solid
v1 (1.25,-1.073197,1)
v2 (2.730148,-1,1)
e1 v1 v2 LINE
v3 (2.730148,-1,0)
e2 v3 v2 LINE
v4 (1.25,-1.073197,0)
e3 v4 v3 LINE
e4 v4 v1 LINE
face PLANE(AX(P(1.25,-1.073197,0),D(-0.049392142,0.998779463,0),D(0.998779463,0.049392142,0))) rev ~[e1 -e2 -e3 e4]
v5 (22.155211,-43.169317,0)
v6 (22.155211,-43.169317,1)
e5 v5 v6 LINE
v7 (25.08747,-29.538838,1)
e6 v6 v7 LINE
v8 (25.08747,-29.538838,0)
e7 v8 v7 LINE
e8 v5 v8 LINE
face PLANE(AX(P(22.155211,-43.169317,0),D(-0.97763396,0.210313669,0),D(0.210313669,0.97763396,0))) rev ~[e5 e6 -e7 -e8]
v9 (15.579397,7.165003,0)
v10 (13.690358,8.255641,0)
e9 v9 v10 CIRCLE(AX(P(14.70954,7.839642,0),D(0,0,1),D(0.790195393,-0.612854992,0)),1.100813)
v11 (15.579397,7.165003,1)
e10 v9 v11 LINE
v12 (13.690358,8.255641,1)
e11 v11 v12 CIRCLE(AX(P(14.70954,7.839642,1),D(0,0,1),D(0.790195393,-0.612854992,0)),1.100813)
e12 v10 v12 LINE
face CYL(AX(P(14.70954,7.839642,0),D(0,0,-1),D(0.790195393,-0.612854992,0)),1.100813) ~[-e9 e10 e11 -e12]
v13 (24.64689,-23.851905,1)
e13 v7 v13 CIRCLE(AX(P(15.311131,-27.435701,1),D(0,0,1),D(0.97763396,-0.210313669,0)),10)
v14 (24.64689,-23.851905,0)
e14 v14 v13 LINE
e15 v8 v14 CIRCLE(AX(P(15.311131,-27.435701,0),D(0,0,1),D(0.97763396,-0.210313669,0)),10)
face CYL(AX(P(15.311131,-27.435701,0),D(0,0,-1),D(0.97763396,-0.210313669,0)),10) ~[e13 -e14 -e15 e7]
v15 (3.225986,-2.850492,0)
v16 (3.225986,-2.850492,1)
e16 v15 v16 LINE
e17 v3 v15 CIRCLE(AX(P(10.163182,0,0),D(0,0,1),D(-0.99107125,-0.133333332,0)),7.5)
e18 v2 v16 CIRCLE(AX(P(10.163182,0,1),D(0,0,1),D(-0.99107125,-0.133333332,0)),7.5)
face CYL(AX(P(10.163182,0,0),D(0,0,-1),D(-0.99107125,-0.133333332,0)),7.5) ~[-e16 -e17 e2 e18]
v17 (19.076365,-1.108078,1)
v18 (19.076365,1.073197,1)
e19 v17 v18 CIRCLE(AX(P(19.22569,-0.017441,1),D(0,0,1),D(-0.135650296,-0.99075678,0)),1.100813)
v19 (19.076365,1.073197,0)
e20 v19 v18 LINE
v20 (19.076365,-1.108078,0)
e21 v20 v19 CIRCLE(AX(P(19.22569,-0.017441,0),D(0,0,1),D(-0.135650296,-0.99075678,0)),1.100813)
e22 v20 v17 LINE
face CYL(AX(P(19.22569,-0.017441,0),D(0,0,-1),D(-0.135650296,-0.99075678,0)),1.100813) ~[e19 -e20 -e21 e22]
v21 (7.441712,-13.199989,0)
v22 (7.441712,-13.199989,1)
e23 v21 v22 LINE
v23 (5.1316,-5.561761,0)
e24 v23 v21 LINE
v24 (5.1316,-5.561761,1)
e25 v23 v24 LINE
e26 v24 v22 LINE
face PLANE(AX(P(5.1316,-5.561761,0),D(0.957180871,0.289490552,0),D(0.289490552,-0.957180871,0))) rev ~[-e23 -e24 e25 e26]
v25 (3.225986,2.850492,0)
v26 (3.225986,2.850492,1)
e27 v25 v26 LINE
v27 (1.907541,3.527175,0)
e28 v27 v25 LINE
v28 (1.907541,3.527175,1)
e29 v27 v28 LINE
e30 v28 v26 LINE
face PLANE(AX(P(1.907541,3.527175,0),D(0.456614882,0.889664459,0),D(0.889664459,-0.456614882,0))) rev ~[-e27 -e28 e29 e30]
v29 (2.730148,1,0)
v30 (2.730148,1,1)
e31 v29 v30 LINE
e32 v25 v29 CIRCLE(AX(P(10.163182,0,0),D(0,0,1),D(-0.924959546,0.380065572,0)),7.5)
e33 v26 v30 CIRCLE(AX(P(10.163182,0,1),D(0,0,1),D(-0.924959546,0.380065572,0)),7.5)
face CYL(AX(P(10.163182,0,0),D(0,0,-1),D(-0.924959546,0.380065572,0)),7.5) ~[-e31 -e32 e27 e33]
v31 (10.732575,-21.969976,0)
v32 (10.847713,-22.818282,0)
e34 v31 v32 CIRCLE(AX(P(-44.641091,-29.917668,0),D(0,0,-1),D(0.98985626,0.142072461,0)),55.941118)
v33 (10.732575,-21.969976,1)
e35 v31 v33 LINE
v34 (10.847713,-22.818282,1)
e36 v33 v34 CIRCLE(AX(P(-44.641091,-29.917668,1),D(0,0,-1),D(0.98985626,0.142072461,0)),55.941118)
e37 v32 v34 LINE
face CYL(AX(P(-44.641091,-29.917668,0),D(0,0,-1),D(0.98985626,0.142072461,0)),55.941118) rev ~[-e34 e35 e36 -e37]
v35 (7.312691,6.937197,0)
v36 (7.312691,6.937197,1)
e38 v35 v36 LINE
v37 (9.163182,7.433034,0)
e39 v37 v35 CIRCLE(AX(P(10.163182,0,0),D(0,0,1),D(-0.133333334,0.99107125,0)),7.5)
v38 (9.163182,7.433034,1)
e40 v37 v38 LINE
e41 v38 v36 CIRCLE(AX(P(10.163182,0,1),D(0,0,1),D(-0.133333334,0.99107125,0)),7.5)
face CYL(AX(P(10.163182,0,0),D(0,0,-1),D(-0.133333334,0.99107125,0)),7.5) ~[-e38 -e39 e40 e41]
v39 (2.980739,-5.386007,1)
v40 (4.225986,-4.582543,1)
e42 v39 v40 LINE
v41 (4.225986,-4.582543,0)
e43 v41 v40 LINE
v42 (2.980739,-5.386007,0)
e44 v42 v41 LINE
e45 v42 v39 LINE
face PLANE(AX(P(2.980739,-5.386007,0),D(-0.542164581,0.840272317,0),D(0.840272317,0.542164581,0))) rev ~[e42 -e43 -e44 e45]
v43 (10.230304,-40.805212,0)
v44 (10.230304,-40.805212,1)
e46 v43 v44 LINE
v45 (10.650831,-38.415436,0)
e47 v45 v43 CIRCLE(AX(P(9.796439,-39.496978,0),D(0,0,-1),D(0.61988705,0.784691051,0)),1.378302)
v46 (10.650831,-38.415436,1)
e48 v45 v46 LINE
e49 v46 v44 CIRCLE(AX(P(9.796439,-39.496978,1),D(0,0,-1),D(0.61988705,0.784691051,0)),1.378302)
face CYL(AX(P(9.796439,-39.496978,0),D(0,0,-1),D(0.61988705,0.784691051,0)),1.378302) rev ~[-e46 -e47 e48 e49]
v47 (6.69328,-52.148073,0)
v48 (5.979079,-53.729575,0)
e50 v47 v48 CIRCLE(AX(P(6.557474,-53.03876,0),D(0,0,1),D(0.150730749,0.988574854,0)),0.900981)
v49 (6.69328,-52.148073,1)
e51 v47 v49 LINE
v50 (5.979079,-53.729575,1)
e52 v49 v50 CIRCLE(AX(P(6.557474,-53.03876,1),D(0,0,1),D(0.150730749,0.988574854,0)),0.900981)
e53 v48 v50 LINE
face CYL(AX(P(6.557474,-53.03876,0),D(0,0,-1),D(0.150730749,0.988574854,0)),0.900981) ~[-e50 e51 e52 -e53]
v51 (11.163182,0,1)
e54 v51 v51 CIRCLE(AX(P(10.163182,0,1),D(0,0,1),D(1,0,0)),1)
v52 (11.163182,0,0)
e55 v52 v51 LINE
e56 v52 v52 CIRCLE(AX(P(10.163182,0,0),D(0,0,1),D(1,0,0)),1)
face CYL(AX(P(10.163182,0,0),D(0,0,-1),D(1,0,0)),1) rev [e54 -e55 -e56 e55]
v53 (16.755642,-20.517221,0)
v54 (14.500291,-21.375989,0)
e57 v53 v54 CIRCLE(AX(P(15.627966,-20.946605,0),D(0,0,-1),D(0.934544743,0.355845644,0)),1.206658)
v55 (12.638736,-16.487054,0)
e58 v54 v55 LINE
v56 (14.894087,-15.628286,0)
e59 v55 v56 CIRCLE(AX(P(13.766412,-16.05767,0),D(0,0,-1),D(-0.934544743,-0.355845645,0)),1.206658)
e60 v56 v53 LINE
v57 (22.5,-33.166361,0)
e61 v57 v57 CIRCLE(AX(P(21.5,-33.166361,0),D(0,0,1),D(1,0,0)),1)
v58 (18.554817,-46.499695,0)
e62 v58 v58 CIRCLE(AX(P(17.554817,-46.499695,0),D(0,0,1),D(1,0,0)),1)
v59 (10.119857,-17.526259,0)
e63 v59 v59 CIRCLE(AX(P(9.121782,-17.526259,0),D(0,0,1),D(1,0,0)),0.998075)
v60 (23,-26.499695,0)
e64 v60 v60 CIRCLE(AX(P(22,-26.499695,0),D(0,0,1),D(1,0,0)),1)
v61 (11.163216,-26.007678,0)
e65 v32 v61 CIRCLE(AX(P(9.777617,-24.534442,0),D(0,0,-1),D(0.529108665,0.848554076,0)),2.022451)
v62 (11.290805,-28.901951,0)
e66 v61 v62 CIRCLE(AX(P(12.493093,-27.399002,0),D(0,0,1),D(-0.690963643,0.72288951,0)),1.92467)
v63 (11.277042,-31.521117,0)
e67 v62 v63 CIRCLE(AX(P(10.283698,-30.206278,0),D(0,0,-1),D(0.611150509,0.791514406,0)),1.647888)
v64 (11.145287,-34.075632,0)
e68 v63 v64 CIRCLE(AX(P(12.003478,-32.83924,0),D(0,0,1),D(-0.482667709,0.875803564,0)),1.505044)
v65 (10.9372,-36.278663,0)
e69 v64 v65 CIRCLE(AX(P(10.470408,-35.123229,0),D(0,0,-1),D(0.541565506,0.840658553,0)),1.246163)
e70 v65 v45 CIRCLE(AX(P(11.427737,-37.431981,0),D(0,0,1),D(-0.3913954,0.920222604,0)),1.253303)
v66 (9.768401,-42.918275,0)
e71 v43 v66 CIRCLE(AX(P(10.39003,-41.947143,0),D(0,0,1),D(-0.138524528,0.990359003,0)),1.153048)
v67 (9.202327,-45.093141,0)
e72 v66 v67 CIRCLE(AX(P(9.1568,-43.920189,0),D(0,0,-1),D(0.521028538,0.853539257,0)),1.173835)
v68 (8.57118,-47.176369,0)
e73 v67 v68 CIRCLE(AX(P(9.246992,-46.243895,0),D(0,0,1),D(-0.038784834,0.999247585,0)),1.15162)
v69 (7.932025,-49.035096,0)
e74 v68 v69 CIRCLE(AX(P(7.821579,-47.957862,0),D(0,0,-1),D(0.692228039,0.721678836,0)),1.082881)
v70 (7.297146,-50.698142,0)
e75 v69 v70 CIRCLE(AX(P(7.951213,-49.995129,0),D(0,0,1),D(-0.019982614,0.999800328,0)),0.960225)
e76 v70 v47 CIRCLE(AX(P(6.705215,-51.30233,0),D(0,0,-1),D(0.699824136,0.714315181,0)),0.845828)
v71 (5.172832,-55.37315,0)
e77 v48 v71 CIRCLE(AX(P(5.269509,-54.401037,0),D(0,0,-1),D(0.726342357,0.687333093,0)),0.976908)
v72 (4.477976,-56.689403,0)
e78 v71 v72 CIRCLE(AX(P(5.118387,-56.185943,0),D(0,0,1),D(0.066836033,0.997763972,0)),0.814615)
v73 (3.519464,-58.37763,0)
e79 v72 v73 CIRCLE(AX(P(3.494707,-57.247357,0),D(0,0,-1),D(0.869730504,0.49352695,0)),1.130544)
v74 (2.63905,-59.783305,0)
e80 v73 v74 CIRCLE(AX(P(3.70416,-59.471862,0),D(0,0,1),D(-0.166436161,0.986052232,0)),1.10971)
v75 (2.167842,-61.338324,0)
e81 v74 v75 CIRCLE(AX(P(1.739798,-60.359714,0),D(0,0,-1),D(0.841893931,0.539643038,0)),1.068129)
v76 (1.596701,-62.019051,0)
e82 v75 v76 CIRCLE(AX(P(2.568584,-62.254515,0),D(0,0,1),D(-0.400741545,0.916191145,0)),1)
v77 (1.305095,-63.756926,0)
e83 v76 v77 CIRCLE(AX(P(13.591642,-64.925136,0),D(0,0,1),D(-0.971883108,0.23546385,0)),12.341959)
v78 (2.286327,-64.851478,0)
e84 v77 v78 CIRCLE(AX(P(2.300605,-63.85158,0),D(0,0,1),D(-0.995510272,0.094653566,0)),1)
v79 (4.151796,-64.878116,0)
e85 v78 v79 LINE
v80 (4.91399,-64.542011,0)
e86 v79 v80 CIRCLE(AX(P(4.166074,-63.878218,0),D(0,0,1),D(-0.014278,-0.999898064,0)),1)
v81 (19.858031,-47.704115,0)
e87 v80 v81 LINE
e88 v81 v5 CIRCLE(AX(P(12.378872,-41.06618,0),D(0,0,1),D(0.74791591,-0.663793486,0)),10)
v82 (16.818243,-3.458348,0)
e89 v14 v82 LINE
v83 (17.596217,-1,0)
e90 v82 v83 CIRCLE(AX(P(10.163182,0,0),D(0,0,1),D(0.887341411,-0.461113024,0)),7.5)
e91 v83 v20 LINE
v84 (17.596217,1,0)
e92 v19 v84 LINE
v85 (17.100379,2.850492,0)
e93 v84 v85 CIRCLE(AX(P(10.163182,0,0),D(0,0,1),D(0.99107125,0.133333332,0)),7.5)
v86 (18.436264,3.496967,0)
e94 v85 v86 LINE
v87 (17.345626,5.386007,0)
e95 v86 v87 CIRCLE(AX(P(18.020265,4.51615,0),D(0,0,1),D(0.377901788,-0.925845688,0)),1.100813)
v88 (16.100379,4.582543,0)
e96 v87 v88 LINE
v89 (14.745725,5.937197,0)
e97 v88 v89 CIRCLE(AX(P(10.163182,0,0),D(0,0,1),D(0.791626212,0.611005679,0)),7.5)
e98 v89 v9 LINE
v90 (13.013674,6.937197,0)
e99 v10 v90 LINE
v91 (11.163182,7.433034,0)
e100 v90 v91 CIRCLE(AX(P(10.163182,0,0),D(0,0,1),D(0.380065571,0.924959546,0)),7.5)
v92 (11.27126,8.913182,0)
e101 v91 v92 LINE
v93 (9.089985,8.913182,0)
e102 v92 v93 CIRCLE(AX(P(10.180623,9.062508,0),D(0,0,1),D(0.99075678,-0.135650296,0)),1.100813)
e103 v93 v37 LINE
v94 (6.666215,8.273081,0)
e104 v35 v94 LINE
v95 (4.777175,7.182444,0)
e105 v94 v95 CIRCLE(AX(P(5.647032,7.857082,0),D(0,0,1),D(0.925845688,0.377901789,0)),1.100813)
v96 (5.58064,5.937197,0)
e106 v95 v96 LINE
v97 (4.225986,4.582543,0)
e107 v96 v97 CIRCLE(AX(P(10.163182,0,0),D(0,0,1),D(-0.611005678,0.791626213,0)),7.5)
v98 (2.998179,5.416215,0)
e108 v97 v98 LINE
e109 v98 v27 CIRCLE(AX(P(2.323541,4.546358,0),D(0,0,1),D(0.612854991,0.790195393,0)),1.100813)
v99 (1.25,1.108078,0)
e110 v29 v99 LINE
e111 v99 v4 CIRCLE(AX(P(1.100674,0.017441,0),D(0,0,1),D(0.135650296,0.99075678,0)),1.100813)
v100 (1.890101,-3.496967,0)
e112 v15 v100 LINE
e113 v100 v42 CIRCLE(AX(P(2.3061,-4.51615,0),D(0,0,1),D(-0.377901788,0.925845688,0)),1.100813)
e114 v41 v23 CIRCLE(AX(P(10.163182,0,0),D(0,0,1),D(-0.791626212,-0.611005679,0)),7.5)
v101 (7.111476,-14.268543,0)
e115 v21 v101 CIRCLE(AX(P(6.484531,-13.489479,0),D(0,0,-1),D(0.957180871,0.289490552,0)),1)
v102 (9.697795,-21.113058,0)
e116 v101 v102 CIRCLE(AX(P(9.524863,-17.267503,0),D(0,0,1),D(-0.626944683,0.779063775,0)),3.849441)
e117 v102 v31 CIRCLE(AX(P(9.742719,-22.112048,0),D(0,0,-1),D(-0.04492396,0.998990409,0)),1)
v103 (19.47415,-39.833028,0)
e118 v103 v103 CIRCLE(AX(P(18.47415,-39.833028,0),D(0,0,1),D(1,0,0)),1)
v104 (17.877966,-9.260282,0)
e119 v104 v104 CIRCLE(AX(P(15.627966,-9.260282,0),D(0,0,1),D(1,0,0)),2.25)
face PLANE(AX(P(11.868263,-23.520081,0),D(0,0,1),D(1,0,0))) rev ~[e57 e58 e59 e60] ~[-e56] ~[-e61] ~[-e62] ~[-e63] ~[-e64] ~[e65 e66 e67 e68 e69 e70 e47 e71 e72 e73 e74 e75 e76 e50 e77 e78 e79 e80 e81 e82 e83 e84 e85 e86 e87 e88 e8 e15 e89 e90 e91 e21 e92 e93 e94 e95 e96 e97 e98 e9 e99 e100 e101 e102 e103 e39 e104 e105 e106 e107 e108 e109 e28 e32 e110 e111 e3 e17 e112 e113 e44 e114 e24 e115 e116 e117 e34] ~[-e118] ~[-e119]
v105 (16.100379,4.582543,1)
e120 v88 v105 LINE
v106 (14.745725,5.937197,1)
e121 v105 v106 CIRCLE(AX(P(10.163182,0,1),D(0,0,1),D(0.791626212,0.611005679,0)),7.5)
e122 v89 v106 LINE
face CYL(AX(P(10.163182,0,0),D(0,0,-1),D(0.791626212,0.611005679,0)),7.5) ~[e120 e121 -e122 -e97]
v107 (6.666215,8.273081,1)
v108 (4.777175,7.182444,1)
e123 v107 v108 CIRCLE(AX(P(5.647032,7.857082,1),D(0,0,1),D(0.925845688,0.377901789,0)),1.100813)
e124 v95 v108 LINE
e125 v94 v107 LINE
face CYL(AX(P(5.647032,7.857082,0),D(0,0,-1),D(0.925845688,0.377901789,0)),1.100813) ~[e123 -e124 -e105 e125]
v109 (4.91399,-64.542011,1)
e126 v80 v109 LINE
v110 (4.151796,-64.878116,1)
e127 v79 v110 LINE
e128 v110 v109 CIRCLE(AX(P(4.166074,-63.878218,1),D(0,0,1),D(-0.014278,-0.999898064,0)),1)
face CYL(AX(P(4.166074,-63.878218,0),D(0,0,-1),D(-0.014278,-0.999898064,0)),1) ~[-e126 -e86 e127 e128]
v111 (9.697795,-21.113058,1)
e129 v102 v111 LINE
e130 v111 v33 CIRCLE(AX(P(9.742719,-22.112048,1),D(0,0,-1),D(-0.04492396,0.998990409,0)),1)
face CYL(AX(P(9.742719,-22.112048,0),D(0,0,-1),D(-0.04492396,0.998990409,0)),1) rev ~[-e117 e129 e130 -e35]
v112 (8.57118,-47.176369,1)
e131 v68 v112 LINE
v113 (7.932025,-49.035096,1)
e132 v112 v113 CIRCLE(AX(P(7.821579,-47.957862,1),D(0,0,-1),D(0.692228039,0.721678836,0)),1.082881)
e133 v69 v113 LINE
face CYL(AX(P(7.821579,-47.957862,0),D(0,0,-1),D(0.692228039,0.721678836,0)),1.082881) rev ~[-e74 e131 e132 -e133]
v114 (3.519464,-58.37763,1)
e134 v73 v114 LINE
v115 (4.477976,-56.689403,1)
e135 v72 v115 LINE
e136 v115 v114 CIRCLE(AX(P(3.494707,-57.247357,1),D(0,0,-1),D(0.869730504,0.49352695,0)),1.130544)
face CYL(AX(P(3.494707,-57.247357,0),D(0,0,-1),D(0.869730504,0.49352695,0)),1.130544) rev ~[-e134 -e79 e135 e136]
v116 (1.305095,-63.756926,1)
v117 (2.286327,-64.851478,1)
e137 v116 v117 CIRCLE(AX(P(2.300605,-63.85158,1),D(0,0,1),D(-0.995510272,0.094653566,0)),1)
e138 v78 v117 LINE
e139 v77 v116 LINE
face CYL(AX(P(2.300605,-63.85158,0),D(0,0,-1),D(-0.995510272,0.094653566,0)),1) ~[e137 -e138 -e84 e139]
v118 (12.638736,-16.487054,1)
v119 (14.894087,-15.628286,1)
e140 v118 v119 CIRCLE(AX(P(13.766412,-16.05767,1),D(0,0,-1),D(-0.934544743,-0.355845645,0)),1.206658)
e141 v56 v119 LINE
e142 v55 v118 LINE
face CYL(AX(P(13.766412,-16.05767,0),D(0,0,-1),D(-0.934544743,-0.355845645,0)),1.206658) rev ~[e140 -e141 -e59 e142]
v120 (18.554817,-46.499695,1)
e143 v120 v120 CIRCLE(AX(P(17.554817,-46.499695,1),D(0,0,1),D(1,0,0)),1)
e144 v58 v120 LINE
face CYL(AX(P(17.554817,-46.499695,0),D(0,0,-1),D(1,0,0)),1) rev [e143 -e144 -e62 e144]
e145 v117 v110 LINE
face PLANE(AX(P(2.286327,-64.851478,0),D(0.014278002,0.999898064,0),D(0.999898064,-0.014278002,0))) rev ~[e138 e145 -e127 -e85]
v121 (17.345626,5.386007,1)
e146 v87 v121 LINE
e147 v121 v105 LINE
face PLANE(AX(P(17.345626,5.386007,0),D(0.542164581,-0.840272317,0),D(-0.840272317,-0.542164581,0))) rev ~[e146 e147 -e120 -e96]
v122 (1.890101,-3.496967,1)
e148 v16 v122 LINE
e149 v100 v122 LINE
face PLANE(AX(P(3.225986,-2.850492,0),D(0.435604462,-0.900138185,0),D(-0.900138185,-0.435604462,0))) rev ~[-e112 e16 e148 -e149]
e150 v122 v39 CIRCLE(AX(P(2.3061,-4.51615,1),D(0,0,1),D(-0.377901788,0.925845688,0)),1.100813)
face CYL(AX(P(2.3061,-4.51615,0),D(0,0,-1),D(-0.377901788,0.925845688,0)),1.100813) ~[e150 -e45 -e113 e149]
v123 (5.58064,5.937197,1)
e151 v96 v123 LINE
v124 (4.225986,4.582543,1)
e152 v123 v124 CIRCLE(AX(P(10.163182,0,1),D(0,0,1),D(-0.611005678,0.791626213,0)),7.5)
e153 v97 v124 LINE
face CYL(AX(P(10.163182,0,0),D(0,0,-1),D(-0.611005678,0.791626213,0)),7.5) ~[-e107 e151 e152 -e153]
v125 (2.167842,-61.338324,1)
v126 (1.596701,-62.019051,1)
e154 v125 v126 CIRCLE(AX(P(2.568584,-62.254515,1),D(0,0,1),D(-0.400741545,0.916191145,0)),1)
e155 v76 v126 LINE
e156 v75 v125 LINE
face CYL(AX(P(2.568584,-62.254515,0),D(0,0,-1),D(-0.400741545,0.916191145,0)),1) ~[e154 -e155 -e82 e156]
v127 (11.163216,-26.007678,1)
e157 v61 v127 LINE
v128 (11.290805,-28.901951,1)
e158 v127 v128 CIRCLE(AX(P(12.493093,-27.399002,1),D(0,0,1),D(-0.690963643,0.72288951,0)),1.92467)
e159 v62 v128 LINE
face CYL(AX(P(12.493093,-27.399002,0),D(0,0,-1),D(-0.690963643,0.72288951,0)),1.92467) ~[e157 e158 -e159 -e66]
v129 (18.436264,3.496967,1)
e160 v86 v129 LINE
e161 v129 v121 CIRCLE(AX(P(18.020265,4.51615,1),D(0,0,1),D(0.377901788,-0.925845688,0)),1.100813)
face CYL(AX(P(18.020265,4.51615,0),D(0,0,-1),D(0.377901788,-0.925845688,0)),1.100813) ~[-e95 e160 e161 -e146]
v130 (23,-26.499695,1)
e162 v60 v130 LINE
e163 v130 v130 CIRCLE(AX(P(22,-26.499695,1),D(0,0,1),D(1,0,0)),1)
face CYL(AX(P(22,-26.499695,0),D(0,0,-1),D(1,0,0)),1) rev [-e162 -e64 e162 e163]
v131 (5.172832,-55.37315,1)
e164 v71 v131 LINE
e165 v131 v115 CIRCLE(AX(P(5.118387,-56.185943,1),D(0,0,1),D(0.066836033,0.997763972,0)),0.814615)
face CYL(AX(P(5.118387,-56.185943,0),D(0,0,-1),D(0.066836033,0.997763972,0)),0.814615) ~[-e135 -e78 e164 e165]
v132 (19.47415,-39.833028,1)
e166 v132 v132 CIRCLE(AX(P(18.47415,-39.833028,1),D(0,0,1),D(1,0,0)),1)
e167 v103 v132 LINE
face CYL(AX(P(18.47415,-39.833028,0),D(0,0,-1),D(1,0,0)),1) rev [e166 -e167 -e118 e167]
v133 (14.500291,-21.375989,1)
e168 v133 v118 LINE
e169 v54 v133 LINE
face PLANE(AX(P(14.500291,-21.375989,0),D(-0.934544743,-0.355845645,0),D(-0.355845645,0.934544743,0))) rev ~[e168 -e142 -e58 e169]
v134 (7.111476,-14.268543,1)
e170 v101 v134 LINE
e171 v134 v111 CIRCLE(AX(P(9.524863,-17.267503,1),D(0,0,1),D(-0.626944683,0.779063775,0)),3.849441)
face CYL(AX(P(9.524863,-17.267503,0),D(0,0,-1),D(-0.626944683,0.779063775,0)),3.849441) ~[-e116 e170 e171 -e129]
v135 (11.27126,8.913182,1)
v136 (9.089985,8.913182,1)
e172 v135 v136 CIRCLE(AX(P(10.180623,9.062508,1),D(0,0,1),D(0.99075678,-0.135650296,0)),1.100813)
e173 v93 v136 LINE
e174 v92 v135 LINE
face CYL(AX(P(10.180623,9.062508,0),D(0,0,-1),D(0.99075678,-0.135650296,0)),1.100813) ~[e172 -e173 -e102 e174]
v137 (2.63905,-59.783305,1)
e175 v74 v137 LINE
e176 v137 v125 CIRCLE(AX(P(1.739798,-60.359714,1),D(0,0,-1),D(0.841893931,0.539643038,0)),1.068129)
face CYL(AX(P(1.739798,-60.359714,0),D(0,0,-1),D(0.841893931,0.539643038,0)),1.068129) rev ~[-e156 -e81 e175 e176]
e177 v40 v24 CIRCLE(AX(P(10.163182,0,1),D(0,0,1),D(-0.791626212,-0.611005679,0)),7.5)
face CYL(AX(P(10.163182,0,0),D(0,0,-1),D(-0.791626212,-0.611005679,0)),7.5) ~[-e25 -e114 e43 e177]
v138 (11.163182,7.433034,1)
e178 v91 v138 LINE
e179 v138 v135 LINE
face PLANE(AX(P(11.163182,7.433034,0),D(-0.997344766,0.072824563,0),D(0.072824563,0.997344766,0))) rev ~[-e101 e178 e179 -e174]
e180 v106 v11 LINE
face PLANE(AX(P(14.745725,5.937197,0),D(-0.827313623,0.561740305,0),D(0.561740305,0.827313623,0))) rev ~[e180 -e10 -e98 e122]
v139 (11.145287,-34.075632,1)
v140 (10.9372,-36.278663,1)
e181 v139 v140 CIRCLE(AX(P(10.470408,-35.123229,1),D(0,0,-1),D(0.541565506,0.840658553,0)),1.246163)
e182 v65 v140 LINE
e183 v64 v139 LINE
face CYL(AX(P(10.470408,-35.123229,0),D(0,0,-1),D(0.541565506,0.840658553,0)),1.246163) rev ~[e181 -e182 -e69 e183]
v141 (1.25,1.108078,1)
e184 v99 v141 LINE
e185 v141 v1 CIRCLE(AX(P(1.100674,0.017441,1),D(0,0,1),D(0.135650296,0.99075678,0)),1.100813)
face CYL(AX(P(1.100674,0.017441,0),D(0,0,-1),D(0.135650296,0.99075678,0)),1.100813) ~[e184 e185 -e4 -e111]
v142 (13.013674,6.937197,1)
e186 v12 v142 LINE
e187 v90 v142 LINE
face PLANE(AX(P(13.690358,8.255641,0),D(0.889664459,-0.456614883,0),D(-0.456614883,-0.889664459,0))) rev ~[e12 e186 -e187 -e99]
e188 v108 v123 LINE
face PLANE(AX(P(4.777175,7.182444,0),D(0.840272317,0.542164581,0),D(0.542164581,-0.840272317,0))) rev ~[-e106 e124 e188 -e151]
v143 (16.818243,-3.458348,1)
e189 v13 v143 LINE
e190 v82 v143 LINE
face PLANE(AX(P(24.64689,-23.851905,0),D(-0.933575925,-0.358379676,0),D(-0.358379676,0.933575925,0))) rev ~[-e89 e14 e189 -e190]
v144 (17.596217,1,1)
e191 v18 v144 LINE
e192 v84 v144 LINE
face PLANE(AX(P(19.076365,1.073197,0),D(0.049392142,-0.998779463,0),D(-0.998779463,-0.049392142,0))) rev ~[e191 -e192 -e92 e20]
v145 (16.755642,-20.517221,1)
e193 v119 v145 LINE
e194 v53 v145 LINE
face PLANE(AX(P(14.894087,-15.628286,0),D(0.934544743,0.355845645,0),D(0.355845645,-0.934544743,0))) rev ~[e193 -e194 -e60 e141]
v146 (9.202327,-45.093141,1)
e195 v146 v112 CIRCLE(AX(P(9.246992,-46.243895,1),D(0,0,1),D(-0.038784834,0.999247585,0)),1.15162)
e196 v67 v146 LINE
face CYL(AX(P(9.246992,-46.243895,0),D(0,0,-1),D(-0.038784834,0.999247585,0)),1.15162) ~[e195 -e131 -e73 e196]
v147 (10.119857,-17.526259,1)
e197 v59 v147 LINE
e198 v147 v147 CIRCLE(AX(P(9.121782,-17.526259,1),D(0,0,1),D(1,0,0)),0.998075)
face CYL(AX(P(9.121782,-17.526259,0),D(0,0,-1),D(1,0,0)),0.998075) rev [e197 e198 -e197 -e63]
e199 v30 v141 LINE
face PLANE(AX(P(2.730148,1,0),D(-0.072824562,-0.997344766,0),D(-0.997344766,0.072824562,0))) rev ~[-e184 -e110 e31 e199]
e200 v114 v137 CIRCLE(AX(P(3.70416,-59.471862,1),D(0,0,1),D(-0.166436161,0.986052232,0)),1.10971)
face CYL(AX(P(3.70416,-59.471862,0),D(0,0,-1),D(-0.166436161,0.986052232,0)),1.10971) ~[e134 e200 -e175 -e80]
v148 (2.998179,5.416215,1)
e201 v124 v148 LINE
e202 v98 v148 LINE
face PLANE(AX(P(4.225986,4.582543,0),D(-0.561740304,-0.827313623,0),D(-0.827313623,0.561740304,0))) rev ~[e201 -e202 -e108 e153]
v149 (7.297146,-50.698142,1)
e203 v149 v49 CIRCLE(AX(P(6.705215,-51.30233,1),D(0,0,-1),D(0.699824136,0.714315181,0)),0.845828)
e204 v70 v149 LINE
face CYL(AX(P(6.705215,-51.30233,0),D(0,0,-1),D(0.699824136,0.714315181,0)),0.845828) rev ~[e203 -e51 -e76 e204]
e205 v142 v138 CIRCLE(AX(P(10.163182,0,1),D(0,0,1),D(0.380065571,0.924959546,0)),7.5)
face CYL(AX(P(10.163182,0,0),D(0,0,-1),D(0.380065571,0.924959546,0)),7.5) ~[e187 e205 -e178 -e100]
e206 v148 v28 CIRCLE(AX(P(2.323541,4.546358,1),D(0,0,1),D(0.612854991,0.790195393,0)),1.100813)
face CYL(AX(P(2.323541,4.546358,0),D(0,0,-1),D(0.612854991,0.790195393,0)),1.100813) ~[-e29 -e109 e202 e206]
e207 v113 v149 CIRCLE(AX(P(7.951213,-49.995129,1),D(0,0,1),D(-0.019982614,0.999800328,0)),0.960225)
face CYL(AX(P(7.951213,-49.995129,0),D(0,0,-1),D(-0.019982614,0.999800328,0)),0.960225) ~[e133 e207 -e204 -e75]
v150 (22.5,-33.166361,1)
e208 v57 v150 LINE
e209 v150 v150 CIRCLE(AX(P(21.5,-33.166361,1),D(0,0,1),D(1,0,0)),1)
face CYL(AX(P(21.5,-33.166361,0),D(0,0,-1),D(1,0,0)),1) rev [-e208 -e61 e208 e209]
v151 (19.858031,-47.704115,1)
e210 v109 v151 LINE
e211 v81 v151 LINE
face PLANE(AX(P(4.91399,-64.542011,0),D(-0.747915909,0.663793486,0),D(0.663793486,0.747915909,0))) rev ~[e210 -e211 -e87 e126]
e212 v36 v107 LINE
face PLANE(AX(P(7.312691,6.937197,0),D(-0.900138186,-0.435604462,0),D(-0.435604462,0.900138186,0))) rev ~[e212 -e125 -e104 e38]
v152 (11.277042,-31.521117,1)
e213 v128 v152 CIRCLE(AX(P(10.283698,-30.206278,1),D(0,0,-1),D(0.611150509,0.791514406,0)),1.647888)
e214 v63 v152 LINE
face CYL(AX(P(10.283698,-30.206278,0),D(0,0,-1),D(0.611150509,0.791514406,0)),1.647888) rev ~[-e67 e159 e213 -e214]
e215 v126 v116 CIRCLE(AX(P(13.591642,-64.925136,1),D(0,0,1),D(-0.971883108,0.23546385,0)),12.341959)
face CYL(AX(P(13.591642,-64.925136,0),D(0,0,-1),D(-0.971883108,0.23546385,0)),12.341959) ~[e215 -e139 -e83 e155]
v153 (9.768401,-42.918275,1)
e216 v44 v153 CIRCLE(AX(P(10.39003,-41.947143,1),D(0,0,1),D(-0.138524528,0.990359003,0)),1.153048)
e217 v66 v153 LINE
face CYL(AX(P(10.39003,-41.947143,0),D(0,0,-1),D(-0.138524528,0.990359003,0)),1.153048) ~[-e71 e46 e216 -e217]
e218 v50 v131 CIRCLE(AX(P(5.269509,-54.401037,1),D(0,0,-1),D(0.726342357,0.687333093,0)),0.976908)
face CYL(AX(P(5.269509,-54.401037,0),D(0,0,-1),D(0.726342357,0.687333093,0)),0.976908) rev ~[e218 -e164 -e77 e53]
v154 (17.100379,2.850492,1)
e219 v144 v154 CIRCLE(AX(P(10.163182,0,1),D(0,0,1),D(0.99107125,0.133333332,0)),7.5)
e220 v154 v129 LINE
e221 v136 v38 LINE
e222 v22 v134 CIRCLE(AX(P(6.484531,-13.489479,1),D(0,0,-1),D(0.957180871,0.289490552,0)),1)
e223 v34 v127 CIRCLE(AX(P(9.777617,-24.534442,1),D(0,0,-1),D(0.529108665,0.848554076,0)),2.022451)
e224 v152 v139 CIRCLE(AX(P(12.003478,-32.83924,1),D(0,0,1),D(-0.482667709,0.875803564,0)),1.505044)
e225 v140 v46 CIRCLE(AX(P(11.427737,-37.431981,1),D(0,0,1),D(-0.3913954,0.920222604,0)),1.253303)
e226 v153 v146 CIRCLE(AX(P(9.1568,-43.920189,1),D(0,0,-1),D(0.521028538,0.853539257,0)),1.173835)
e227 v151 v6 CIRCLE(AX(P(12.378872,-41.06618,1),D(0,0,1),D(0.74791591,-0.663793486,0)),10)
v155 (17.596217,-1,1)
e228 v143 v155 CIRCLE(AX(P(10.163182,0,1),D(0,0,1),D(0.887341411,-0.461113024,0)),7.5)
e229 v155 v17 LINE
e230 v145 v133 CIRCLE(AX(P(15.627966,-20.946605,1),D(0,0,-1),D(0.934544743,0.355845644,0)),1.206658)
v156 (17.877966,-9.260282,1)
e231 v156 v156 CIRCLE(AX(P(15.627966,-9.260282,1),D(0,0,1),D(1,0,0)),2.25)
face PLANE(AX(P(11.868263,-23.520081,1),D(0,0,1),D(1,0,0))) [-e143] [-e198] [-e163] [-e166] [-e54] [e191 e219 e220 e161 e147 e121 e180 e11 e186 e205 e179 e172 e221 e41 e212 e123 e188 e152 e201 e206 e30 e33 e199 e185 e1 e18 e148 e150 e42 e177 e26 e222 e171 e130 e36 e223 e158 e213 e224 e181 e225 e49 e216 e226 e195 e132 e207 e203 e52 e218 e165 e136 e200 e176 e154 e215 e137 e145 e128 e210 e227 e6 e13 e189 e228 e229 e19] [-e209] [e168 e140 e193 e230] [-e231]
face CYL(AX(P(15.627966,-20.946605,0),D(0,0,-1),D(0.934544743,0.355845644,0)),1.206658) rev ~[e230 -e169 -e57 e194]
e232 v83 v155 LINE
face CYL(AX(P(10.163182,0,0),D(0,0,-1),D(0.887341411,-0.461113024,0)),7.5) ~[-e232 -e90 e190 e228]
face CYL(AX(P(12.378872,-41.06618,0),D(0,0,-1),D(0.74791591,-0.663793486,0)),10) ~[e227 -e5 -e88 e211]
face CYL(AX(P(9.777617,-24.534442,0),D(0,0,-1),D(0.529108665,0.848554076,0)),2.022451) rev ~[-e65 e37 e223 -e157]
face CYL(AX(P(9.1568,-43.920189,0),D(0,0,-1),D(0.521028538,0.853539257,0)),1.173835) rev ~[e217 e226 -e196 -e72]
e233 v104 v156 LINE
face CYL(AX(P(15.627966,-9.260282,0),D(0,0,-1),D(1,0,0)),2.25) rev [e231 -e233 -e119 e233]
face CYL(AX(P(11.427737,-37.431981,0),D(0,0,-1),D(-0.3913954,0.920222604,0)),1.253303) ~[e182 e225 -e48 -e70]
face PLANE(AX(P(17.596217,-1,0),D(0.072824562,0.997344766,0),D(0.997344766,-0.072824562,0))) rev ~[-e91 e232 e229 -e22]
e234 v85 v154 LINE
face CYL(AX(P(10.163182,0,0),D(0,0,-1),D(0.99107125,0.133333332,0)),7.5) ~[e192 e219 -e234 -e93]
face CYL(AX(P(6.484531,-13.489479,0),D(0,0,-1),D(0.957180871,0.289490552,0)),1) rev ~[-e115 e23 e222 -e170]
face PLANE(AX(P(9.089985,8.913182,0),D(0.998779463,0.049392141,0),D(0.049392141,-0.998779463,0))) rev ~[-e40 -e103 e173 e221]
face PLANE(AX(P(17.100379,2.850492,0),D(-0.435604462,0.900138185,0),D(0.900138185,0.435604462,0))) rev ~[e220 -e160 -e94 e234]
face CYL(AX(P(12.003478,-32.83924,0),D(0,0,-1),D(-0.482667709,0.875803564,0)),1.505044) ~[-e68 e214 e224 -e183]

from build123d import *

# Parameters (mm, degrees)
SKETCH1_R           = 1
SKETCH1_R_2         = 2.25
SKETCH1_R_3         = 0.998074624
BOSS_EXTRUDE1_DEPTH = 1


with BuildPart() as part:
    # Sketch1 → Boss-Extrude1 (new body)
    with BuildSketch(Plane.XY):
        with BuildLine():
            Line((2.730147947, 1), (1.25, 1.108078099))
            ThreePointArc((1.25, 1.108078099), (-0.000138167, 0.017440541), (1.25, -1.073197017))
            Line((1.25, -1.073197017), (2.730147947, -1))
            ThreePointArc((2.730147947, -1), (2.918738623, -1.941142838), (3.225985726, -2.850491783))
            Line((3.225985726, -2.850491783), (1.890100953, -3.496967377))
            ThreePointArc((1.890100953, -3.496967377), (1.352768321, -5.066556292), (2.980738511, -5.38600704))
            Line((2.980738511, -5.38600704), (4.225985726, -4.582542591))
            ThreePointArc((4.225985726, -4.582542591), (4.656981948, -5.092323385), (5.131600413, -5.561760829))
            Line((5.131600413, -5.561760829), (7.44171219, -13.199988708))
            ThreePointArc((7.44171219, -13.199988708), (7.439945119, -13.784749424), (7.111476001, -14.268543034))
            ThreePointArc((7.111476001, -14.268543034), (5.923924571, -18.62818009), (9.697794763, -21.113057841))
            ThreePointArc((9.697794763, -21.113057841), (10.380528535, -21.341854349), (10.732574986, -21.969975788))
            ThreePointArc((10.732574986, -21.969975788), (10.791766979, -22.393908793), (10.847713449, -22.818282305))
            ThreePointArc((10.847713449, -22.818282305), (11.790244876, -24.335347863), (11.16321594, -26.007678007))
            ThreePointArc((11.16321594, -26.007678007), (10.570290463, -27.483765064), (11.290805177, -28.901951288))
            ThreePointArc((11.290805177, -28.901951288), (11.931562756, -30.214937196), (11.277042334, -31.52111685))
            ThreePointArc((11.277042334, -31.52111685), (10.500432467, -32.761716535), (11.145287395, -34.075631519))
            ThreePointArc((11.145287395, -34.075631519), (11.711049486, -35.240414102), (10.937199745, -36.278663489))
            ThreePointArc((10.937199745, -36.278663489), (10.185540032, -37.265502357), (10.650830557, -38.415436269))
            ThreePointArc((10.650830557, -38.415436269), (11.153884573, -39.735845823), (10.230304321, -40.805212107))
            ThreePointArc((10.230304321, -40.805212107), (9.263580844, -41.700908083), (9.768401259, -42.918274877))
            ThreePointArc((9.768401259, -42.918274877), (10.29278617, -44.215864041), (9.202326649, -45.093141196))
            ThreePointArc((9.202326649, -45.093141196), (8.144843355, -45.909982105), (8.571180325, -47.176369398))
            ThreePointArc((8.571180325, -47.176369398), (8.845608938, -48.309992252), (7.932024848, -49.035096348))
            ThreePointArc((7.932024848, -49.035096348), (7.054134874, -49.652663659), (7.297145805, -50.698142438))
            ThreePointArc((7.297145805, -50.698142438), (7.486031135, -51.627523472), (6.693279806, -52.148073283))
            ThreePointArc((6.693279806, -52.148073283), (5.736341709, -52.667939714), (5.979078831, -53.729575393))
            ThreePointArc((5.979078831, -53.729575393), (6.146574337, -54.831276595), (5.172832259, -55.373149872))
            ThreePointArc((5.172832259, -55.373149872), (4.397991341, -55.805643097), (4.477975588, -56.689402883))
            ThreePointArc((4.477975588, -56.689402883), (4.477842946, -57.805544451), (3.519463877, -58.377629741))
            ThreePointArc((3.519463877, -58.377629741), (2.763689302, -58.882818754), (2.639049746, -59.78330536))
            ThreePointArc((2.639049746, -59.78330536), (2.762025793, -60.669472955), (2.167842085, -61.338324084))
            ThreePointArc((2.167842085, -61.338324084), (1.802507902, -61.611764905), (1.596700522, -62.019051378))
            ThreePointArc((1.596700522, -62.019051378), (1.419841706, -62.882777694), (1.305095034, -63.756926075))
            ThreePointArc((1.305095034, -63.756926075), (1.556005476, -64.519090759), (2.286327304, -64.851477705))
            Line((2.286327304, -64.851477705), (4.151796088, -64.878115588))
            ThreePointArc((4.151796088, -64.878115588), (4.56955608, -64.79320511), (4.913989999, -64.54201101))
            Line((4.913989999, -64.54201101), (19.858030846, -47.704114694))
            ThreePointArc((19.858030846, -47.704114694), (21.299586827, -45.585122466), (22.155211357, -43.169316519))
            Line((22.155211357, -43.169316519), (25.087470282, -29.538838187))
            ThreePointArc((25.087470282, -29.538838187), (25.281255234, -26.663292069), (24.646889926, -23.851904734))
            Line((24.646889926, -23.851904734), (16.818242905, -3.45834767))
            ThreePointArc((16.818242905, -3.45834767), (17.313669941, -2.262858102), (17.596216694, -1))
            Line((17.596216694, -1), (19.076364641, -1.108078099))
            ThreePointArc((19.076364641, -1.108078099), (20.326502808, -0.017440541), (19.076364641, 1.073197017))
            Line((19.076364641, 1.073197017), (17.596216694, 1))
            ThreePointArc((17.596216694, 1), (17.407626018, 1.941142838), (17.100378915, 2.850491783))
            Line((17.100378915, 2.850491783), (18.436263688, 3.496967377))
            ThreePointArc((18.436263688, 3.496967377), (18.97359632, 5.066556292), (17.34562613, 5.38600704))
            Line((17.34562613, 5.38600704), (16.100378915, 4.582542591))
            ThreePointArc((16.100378915, 4.582542591), (15.466483179, 5.303300859), (14.745724911, 5.937196595))
            Line((14.745724911, 5.937196595), (15.579397264, 7.165003268))
            ThreePointArc((15.579397264, 7.165003268), (15.259946516, 8.792973458), (13.690357601, 8.255640826))
            Line((13.690357601, 8.255640826), (13.013674103, 6.937196595))
            ThreePointArc((13.013674103, 6.937196595), (12.104325159, 7.244443697), (11.16318232, 7.433034374))
            Line((11.16318232, 7.433034374), (11.27126042, 8.91318232))
            ThreePointArc((11.27126042, 8.91318232), (10.180622862, 10.163320487), (9.089985304, 8.91318232))
            Line((9.089985304, 8.91318232), (9.16318232, 7.433034374))
            ThreePointArc((9.16318232, 7.433034374), (8.222039482, 7.244443697), (7.312690537, 6.937196595))
            Line((7.312690537, 6.937196595), (6.666214944, 8.273081368))
            ThreePointArc((6.666214944, 8.273081368), (5.096626029, 8.810413999), (4.77717528, 7.18244381))
            Line((4.77717528, 7.18244381), (5.58063973, 5.937196595))
            ThreePointArc((5.58063973, 5.937196595), (4.859881461, 5.303300859), (4.225985726, 4.582542591))
            Line((4.225985726, 4.582542591), (2.998179052, 5.416214944))
            ThreePointArc((2.998179052, 5.416214944), (1.370208862, 5.096764195), (1.907541494, 3.52717528))
            Line((1.907541494, 3.52717528), (3.225985726, 2.850491783))
            ThreePointArc((3.225985726, 2.850491783), (2.918738623, 1.941142838), (2.730147947, 1))
        make_face()
        with Locations((10.16318232, 0)):
            Circle(SKETCH1_R, mode=Mode.SUBTRACT)
        with Locations((15.627966379, -9.260281964)):
            Circle(SKETCH1_R_2, mode=Mode.SUBTRACT)
        with Locations((9.121782476, -17.526259213)):
            Circle(SKETCH1_R_3, mode=Mode.SUBTRACT)
        with Locations((22, -26.49969455)):
            Circle(SKETCH1_R, mode=Mode.SUBTRACT)
        with Locations((21.500000045, -33.166361217)):
            Circle(SKETCH1_R, mode=Mode.SUBTRACT)
        with Locations((18.474150388, -39.833027883)):
            Circle(SKETCH1_R, mode=Mode.SUBTRACT)
        with Locations((17.55481685, -46.49969455)):
            Circle(SKETCH1_R, mode=Mode.SUBTRACT)
        with BuildLine():
            Line((14.500290742, -21.375988683), (12.638736062, -16.487053928))
            ThreePointArc((12.638736062, -16.487053928), (13.337027802, -14.929994394), (14.894087335, -15.628286133))
            Line((14.894087335, -15.628286133), (16.755642015, -20.517220889))
            ThreePointArc((16.755642015, -20.517220889), (16.057350276, -22.074280422), (14.500290742, -21.375988683))
        make_face(mode=Mode.SUBTRACT)
    extrude(amount=BOSS_EXTRUDE1_DEPTH)


solid = part.part
